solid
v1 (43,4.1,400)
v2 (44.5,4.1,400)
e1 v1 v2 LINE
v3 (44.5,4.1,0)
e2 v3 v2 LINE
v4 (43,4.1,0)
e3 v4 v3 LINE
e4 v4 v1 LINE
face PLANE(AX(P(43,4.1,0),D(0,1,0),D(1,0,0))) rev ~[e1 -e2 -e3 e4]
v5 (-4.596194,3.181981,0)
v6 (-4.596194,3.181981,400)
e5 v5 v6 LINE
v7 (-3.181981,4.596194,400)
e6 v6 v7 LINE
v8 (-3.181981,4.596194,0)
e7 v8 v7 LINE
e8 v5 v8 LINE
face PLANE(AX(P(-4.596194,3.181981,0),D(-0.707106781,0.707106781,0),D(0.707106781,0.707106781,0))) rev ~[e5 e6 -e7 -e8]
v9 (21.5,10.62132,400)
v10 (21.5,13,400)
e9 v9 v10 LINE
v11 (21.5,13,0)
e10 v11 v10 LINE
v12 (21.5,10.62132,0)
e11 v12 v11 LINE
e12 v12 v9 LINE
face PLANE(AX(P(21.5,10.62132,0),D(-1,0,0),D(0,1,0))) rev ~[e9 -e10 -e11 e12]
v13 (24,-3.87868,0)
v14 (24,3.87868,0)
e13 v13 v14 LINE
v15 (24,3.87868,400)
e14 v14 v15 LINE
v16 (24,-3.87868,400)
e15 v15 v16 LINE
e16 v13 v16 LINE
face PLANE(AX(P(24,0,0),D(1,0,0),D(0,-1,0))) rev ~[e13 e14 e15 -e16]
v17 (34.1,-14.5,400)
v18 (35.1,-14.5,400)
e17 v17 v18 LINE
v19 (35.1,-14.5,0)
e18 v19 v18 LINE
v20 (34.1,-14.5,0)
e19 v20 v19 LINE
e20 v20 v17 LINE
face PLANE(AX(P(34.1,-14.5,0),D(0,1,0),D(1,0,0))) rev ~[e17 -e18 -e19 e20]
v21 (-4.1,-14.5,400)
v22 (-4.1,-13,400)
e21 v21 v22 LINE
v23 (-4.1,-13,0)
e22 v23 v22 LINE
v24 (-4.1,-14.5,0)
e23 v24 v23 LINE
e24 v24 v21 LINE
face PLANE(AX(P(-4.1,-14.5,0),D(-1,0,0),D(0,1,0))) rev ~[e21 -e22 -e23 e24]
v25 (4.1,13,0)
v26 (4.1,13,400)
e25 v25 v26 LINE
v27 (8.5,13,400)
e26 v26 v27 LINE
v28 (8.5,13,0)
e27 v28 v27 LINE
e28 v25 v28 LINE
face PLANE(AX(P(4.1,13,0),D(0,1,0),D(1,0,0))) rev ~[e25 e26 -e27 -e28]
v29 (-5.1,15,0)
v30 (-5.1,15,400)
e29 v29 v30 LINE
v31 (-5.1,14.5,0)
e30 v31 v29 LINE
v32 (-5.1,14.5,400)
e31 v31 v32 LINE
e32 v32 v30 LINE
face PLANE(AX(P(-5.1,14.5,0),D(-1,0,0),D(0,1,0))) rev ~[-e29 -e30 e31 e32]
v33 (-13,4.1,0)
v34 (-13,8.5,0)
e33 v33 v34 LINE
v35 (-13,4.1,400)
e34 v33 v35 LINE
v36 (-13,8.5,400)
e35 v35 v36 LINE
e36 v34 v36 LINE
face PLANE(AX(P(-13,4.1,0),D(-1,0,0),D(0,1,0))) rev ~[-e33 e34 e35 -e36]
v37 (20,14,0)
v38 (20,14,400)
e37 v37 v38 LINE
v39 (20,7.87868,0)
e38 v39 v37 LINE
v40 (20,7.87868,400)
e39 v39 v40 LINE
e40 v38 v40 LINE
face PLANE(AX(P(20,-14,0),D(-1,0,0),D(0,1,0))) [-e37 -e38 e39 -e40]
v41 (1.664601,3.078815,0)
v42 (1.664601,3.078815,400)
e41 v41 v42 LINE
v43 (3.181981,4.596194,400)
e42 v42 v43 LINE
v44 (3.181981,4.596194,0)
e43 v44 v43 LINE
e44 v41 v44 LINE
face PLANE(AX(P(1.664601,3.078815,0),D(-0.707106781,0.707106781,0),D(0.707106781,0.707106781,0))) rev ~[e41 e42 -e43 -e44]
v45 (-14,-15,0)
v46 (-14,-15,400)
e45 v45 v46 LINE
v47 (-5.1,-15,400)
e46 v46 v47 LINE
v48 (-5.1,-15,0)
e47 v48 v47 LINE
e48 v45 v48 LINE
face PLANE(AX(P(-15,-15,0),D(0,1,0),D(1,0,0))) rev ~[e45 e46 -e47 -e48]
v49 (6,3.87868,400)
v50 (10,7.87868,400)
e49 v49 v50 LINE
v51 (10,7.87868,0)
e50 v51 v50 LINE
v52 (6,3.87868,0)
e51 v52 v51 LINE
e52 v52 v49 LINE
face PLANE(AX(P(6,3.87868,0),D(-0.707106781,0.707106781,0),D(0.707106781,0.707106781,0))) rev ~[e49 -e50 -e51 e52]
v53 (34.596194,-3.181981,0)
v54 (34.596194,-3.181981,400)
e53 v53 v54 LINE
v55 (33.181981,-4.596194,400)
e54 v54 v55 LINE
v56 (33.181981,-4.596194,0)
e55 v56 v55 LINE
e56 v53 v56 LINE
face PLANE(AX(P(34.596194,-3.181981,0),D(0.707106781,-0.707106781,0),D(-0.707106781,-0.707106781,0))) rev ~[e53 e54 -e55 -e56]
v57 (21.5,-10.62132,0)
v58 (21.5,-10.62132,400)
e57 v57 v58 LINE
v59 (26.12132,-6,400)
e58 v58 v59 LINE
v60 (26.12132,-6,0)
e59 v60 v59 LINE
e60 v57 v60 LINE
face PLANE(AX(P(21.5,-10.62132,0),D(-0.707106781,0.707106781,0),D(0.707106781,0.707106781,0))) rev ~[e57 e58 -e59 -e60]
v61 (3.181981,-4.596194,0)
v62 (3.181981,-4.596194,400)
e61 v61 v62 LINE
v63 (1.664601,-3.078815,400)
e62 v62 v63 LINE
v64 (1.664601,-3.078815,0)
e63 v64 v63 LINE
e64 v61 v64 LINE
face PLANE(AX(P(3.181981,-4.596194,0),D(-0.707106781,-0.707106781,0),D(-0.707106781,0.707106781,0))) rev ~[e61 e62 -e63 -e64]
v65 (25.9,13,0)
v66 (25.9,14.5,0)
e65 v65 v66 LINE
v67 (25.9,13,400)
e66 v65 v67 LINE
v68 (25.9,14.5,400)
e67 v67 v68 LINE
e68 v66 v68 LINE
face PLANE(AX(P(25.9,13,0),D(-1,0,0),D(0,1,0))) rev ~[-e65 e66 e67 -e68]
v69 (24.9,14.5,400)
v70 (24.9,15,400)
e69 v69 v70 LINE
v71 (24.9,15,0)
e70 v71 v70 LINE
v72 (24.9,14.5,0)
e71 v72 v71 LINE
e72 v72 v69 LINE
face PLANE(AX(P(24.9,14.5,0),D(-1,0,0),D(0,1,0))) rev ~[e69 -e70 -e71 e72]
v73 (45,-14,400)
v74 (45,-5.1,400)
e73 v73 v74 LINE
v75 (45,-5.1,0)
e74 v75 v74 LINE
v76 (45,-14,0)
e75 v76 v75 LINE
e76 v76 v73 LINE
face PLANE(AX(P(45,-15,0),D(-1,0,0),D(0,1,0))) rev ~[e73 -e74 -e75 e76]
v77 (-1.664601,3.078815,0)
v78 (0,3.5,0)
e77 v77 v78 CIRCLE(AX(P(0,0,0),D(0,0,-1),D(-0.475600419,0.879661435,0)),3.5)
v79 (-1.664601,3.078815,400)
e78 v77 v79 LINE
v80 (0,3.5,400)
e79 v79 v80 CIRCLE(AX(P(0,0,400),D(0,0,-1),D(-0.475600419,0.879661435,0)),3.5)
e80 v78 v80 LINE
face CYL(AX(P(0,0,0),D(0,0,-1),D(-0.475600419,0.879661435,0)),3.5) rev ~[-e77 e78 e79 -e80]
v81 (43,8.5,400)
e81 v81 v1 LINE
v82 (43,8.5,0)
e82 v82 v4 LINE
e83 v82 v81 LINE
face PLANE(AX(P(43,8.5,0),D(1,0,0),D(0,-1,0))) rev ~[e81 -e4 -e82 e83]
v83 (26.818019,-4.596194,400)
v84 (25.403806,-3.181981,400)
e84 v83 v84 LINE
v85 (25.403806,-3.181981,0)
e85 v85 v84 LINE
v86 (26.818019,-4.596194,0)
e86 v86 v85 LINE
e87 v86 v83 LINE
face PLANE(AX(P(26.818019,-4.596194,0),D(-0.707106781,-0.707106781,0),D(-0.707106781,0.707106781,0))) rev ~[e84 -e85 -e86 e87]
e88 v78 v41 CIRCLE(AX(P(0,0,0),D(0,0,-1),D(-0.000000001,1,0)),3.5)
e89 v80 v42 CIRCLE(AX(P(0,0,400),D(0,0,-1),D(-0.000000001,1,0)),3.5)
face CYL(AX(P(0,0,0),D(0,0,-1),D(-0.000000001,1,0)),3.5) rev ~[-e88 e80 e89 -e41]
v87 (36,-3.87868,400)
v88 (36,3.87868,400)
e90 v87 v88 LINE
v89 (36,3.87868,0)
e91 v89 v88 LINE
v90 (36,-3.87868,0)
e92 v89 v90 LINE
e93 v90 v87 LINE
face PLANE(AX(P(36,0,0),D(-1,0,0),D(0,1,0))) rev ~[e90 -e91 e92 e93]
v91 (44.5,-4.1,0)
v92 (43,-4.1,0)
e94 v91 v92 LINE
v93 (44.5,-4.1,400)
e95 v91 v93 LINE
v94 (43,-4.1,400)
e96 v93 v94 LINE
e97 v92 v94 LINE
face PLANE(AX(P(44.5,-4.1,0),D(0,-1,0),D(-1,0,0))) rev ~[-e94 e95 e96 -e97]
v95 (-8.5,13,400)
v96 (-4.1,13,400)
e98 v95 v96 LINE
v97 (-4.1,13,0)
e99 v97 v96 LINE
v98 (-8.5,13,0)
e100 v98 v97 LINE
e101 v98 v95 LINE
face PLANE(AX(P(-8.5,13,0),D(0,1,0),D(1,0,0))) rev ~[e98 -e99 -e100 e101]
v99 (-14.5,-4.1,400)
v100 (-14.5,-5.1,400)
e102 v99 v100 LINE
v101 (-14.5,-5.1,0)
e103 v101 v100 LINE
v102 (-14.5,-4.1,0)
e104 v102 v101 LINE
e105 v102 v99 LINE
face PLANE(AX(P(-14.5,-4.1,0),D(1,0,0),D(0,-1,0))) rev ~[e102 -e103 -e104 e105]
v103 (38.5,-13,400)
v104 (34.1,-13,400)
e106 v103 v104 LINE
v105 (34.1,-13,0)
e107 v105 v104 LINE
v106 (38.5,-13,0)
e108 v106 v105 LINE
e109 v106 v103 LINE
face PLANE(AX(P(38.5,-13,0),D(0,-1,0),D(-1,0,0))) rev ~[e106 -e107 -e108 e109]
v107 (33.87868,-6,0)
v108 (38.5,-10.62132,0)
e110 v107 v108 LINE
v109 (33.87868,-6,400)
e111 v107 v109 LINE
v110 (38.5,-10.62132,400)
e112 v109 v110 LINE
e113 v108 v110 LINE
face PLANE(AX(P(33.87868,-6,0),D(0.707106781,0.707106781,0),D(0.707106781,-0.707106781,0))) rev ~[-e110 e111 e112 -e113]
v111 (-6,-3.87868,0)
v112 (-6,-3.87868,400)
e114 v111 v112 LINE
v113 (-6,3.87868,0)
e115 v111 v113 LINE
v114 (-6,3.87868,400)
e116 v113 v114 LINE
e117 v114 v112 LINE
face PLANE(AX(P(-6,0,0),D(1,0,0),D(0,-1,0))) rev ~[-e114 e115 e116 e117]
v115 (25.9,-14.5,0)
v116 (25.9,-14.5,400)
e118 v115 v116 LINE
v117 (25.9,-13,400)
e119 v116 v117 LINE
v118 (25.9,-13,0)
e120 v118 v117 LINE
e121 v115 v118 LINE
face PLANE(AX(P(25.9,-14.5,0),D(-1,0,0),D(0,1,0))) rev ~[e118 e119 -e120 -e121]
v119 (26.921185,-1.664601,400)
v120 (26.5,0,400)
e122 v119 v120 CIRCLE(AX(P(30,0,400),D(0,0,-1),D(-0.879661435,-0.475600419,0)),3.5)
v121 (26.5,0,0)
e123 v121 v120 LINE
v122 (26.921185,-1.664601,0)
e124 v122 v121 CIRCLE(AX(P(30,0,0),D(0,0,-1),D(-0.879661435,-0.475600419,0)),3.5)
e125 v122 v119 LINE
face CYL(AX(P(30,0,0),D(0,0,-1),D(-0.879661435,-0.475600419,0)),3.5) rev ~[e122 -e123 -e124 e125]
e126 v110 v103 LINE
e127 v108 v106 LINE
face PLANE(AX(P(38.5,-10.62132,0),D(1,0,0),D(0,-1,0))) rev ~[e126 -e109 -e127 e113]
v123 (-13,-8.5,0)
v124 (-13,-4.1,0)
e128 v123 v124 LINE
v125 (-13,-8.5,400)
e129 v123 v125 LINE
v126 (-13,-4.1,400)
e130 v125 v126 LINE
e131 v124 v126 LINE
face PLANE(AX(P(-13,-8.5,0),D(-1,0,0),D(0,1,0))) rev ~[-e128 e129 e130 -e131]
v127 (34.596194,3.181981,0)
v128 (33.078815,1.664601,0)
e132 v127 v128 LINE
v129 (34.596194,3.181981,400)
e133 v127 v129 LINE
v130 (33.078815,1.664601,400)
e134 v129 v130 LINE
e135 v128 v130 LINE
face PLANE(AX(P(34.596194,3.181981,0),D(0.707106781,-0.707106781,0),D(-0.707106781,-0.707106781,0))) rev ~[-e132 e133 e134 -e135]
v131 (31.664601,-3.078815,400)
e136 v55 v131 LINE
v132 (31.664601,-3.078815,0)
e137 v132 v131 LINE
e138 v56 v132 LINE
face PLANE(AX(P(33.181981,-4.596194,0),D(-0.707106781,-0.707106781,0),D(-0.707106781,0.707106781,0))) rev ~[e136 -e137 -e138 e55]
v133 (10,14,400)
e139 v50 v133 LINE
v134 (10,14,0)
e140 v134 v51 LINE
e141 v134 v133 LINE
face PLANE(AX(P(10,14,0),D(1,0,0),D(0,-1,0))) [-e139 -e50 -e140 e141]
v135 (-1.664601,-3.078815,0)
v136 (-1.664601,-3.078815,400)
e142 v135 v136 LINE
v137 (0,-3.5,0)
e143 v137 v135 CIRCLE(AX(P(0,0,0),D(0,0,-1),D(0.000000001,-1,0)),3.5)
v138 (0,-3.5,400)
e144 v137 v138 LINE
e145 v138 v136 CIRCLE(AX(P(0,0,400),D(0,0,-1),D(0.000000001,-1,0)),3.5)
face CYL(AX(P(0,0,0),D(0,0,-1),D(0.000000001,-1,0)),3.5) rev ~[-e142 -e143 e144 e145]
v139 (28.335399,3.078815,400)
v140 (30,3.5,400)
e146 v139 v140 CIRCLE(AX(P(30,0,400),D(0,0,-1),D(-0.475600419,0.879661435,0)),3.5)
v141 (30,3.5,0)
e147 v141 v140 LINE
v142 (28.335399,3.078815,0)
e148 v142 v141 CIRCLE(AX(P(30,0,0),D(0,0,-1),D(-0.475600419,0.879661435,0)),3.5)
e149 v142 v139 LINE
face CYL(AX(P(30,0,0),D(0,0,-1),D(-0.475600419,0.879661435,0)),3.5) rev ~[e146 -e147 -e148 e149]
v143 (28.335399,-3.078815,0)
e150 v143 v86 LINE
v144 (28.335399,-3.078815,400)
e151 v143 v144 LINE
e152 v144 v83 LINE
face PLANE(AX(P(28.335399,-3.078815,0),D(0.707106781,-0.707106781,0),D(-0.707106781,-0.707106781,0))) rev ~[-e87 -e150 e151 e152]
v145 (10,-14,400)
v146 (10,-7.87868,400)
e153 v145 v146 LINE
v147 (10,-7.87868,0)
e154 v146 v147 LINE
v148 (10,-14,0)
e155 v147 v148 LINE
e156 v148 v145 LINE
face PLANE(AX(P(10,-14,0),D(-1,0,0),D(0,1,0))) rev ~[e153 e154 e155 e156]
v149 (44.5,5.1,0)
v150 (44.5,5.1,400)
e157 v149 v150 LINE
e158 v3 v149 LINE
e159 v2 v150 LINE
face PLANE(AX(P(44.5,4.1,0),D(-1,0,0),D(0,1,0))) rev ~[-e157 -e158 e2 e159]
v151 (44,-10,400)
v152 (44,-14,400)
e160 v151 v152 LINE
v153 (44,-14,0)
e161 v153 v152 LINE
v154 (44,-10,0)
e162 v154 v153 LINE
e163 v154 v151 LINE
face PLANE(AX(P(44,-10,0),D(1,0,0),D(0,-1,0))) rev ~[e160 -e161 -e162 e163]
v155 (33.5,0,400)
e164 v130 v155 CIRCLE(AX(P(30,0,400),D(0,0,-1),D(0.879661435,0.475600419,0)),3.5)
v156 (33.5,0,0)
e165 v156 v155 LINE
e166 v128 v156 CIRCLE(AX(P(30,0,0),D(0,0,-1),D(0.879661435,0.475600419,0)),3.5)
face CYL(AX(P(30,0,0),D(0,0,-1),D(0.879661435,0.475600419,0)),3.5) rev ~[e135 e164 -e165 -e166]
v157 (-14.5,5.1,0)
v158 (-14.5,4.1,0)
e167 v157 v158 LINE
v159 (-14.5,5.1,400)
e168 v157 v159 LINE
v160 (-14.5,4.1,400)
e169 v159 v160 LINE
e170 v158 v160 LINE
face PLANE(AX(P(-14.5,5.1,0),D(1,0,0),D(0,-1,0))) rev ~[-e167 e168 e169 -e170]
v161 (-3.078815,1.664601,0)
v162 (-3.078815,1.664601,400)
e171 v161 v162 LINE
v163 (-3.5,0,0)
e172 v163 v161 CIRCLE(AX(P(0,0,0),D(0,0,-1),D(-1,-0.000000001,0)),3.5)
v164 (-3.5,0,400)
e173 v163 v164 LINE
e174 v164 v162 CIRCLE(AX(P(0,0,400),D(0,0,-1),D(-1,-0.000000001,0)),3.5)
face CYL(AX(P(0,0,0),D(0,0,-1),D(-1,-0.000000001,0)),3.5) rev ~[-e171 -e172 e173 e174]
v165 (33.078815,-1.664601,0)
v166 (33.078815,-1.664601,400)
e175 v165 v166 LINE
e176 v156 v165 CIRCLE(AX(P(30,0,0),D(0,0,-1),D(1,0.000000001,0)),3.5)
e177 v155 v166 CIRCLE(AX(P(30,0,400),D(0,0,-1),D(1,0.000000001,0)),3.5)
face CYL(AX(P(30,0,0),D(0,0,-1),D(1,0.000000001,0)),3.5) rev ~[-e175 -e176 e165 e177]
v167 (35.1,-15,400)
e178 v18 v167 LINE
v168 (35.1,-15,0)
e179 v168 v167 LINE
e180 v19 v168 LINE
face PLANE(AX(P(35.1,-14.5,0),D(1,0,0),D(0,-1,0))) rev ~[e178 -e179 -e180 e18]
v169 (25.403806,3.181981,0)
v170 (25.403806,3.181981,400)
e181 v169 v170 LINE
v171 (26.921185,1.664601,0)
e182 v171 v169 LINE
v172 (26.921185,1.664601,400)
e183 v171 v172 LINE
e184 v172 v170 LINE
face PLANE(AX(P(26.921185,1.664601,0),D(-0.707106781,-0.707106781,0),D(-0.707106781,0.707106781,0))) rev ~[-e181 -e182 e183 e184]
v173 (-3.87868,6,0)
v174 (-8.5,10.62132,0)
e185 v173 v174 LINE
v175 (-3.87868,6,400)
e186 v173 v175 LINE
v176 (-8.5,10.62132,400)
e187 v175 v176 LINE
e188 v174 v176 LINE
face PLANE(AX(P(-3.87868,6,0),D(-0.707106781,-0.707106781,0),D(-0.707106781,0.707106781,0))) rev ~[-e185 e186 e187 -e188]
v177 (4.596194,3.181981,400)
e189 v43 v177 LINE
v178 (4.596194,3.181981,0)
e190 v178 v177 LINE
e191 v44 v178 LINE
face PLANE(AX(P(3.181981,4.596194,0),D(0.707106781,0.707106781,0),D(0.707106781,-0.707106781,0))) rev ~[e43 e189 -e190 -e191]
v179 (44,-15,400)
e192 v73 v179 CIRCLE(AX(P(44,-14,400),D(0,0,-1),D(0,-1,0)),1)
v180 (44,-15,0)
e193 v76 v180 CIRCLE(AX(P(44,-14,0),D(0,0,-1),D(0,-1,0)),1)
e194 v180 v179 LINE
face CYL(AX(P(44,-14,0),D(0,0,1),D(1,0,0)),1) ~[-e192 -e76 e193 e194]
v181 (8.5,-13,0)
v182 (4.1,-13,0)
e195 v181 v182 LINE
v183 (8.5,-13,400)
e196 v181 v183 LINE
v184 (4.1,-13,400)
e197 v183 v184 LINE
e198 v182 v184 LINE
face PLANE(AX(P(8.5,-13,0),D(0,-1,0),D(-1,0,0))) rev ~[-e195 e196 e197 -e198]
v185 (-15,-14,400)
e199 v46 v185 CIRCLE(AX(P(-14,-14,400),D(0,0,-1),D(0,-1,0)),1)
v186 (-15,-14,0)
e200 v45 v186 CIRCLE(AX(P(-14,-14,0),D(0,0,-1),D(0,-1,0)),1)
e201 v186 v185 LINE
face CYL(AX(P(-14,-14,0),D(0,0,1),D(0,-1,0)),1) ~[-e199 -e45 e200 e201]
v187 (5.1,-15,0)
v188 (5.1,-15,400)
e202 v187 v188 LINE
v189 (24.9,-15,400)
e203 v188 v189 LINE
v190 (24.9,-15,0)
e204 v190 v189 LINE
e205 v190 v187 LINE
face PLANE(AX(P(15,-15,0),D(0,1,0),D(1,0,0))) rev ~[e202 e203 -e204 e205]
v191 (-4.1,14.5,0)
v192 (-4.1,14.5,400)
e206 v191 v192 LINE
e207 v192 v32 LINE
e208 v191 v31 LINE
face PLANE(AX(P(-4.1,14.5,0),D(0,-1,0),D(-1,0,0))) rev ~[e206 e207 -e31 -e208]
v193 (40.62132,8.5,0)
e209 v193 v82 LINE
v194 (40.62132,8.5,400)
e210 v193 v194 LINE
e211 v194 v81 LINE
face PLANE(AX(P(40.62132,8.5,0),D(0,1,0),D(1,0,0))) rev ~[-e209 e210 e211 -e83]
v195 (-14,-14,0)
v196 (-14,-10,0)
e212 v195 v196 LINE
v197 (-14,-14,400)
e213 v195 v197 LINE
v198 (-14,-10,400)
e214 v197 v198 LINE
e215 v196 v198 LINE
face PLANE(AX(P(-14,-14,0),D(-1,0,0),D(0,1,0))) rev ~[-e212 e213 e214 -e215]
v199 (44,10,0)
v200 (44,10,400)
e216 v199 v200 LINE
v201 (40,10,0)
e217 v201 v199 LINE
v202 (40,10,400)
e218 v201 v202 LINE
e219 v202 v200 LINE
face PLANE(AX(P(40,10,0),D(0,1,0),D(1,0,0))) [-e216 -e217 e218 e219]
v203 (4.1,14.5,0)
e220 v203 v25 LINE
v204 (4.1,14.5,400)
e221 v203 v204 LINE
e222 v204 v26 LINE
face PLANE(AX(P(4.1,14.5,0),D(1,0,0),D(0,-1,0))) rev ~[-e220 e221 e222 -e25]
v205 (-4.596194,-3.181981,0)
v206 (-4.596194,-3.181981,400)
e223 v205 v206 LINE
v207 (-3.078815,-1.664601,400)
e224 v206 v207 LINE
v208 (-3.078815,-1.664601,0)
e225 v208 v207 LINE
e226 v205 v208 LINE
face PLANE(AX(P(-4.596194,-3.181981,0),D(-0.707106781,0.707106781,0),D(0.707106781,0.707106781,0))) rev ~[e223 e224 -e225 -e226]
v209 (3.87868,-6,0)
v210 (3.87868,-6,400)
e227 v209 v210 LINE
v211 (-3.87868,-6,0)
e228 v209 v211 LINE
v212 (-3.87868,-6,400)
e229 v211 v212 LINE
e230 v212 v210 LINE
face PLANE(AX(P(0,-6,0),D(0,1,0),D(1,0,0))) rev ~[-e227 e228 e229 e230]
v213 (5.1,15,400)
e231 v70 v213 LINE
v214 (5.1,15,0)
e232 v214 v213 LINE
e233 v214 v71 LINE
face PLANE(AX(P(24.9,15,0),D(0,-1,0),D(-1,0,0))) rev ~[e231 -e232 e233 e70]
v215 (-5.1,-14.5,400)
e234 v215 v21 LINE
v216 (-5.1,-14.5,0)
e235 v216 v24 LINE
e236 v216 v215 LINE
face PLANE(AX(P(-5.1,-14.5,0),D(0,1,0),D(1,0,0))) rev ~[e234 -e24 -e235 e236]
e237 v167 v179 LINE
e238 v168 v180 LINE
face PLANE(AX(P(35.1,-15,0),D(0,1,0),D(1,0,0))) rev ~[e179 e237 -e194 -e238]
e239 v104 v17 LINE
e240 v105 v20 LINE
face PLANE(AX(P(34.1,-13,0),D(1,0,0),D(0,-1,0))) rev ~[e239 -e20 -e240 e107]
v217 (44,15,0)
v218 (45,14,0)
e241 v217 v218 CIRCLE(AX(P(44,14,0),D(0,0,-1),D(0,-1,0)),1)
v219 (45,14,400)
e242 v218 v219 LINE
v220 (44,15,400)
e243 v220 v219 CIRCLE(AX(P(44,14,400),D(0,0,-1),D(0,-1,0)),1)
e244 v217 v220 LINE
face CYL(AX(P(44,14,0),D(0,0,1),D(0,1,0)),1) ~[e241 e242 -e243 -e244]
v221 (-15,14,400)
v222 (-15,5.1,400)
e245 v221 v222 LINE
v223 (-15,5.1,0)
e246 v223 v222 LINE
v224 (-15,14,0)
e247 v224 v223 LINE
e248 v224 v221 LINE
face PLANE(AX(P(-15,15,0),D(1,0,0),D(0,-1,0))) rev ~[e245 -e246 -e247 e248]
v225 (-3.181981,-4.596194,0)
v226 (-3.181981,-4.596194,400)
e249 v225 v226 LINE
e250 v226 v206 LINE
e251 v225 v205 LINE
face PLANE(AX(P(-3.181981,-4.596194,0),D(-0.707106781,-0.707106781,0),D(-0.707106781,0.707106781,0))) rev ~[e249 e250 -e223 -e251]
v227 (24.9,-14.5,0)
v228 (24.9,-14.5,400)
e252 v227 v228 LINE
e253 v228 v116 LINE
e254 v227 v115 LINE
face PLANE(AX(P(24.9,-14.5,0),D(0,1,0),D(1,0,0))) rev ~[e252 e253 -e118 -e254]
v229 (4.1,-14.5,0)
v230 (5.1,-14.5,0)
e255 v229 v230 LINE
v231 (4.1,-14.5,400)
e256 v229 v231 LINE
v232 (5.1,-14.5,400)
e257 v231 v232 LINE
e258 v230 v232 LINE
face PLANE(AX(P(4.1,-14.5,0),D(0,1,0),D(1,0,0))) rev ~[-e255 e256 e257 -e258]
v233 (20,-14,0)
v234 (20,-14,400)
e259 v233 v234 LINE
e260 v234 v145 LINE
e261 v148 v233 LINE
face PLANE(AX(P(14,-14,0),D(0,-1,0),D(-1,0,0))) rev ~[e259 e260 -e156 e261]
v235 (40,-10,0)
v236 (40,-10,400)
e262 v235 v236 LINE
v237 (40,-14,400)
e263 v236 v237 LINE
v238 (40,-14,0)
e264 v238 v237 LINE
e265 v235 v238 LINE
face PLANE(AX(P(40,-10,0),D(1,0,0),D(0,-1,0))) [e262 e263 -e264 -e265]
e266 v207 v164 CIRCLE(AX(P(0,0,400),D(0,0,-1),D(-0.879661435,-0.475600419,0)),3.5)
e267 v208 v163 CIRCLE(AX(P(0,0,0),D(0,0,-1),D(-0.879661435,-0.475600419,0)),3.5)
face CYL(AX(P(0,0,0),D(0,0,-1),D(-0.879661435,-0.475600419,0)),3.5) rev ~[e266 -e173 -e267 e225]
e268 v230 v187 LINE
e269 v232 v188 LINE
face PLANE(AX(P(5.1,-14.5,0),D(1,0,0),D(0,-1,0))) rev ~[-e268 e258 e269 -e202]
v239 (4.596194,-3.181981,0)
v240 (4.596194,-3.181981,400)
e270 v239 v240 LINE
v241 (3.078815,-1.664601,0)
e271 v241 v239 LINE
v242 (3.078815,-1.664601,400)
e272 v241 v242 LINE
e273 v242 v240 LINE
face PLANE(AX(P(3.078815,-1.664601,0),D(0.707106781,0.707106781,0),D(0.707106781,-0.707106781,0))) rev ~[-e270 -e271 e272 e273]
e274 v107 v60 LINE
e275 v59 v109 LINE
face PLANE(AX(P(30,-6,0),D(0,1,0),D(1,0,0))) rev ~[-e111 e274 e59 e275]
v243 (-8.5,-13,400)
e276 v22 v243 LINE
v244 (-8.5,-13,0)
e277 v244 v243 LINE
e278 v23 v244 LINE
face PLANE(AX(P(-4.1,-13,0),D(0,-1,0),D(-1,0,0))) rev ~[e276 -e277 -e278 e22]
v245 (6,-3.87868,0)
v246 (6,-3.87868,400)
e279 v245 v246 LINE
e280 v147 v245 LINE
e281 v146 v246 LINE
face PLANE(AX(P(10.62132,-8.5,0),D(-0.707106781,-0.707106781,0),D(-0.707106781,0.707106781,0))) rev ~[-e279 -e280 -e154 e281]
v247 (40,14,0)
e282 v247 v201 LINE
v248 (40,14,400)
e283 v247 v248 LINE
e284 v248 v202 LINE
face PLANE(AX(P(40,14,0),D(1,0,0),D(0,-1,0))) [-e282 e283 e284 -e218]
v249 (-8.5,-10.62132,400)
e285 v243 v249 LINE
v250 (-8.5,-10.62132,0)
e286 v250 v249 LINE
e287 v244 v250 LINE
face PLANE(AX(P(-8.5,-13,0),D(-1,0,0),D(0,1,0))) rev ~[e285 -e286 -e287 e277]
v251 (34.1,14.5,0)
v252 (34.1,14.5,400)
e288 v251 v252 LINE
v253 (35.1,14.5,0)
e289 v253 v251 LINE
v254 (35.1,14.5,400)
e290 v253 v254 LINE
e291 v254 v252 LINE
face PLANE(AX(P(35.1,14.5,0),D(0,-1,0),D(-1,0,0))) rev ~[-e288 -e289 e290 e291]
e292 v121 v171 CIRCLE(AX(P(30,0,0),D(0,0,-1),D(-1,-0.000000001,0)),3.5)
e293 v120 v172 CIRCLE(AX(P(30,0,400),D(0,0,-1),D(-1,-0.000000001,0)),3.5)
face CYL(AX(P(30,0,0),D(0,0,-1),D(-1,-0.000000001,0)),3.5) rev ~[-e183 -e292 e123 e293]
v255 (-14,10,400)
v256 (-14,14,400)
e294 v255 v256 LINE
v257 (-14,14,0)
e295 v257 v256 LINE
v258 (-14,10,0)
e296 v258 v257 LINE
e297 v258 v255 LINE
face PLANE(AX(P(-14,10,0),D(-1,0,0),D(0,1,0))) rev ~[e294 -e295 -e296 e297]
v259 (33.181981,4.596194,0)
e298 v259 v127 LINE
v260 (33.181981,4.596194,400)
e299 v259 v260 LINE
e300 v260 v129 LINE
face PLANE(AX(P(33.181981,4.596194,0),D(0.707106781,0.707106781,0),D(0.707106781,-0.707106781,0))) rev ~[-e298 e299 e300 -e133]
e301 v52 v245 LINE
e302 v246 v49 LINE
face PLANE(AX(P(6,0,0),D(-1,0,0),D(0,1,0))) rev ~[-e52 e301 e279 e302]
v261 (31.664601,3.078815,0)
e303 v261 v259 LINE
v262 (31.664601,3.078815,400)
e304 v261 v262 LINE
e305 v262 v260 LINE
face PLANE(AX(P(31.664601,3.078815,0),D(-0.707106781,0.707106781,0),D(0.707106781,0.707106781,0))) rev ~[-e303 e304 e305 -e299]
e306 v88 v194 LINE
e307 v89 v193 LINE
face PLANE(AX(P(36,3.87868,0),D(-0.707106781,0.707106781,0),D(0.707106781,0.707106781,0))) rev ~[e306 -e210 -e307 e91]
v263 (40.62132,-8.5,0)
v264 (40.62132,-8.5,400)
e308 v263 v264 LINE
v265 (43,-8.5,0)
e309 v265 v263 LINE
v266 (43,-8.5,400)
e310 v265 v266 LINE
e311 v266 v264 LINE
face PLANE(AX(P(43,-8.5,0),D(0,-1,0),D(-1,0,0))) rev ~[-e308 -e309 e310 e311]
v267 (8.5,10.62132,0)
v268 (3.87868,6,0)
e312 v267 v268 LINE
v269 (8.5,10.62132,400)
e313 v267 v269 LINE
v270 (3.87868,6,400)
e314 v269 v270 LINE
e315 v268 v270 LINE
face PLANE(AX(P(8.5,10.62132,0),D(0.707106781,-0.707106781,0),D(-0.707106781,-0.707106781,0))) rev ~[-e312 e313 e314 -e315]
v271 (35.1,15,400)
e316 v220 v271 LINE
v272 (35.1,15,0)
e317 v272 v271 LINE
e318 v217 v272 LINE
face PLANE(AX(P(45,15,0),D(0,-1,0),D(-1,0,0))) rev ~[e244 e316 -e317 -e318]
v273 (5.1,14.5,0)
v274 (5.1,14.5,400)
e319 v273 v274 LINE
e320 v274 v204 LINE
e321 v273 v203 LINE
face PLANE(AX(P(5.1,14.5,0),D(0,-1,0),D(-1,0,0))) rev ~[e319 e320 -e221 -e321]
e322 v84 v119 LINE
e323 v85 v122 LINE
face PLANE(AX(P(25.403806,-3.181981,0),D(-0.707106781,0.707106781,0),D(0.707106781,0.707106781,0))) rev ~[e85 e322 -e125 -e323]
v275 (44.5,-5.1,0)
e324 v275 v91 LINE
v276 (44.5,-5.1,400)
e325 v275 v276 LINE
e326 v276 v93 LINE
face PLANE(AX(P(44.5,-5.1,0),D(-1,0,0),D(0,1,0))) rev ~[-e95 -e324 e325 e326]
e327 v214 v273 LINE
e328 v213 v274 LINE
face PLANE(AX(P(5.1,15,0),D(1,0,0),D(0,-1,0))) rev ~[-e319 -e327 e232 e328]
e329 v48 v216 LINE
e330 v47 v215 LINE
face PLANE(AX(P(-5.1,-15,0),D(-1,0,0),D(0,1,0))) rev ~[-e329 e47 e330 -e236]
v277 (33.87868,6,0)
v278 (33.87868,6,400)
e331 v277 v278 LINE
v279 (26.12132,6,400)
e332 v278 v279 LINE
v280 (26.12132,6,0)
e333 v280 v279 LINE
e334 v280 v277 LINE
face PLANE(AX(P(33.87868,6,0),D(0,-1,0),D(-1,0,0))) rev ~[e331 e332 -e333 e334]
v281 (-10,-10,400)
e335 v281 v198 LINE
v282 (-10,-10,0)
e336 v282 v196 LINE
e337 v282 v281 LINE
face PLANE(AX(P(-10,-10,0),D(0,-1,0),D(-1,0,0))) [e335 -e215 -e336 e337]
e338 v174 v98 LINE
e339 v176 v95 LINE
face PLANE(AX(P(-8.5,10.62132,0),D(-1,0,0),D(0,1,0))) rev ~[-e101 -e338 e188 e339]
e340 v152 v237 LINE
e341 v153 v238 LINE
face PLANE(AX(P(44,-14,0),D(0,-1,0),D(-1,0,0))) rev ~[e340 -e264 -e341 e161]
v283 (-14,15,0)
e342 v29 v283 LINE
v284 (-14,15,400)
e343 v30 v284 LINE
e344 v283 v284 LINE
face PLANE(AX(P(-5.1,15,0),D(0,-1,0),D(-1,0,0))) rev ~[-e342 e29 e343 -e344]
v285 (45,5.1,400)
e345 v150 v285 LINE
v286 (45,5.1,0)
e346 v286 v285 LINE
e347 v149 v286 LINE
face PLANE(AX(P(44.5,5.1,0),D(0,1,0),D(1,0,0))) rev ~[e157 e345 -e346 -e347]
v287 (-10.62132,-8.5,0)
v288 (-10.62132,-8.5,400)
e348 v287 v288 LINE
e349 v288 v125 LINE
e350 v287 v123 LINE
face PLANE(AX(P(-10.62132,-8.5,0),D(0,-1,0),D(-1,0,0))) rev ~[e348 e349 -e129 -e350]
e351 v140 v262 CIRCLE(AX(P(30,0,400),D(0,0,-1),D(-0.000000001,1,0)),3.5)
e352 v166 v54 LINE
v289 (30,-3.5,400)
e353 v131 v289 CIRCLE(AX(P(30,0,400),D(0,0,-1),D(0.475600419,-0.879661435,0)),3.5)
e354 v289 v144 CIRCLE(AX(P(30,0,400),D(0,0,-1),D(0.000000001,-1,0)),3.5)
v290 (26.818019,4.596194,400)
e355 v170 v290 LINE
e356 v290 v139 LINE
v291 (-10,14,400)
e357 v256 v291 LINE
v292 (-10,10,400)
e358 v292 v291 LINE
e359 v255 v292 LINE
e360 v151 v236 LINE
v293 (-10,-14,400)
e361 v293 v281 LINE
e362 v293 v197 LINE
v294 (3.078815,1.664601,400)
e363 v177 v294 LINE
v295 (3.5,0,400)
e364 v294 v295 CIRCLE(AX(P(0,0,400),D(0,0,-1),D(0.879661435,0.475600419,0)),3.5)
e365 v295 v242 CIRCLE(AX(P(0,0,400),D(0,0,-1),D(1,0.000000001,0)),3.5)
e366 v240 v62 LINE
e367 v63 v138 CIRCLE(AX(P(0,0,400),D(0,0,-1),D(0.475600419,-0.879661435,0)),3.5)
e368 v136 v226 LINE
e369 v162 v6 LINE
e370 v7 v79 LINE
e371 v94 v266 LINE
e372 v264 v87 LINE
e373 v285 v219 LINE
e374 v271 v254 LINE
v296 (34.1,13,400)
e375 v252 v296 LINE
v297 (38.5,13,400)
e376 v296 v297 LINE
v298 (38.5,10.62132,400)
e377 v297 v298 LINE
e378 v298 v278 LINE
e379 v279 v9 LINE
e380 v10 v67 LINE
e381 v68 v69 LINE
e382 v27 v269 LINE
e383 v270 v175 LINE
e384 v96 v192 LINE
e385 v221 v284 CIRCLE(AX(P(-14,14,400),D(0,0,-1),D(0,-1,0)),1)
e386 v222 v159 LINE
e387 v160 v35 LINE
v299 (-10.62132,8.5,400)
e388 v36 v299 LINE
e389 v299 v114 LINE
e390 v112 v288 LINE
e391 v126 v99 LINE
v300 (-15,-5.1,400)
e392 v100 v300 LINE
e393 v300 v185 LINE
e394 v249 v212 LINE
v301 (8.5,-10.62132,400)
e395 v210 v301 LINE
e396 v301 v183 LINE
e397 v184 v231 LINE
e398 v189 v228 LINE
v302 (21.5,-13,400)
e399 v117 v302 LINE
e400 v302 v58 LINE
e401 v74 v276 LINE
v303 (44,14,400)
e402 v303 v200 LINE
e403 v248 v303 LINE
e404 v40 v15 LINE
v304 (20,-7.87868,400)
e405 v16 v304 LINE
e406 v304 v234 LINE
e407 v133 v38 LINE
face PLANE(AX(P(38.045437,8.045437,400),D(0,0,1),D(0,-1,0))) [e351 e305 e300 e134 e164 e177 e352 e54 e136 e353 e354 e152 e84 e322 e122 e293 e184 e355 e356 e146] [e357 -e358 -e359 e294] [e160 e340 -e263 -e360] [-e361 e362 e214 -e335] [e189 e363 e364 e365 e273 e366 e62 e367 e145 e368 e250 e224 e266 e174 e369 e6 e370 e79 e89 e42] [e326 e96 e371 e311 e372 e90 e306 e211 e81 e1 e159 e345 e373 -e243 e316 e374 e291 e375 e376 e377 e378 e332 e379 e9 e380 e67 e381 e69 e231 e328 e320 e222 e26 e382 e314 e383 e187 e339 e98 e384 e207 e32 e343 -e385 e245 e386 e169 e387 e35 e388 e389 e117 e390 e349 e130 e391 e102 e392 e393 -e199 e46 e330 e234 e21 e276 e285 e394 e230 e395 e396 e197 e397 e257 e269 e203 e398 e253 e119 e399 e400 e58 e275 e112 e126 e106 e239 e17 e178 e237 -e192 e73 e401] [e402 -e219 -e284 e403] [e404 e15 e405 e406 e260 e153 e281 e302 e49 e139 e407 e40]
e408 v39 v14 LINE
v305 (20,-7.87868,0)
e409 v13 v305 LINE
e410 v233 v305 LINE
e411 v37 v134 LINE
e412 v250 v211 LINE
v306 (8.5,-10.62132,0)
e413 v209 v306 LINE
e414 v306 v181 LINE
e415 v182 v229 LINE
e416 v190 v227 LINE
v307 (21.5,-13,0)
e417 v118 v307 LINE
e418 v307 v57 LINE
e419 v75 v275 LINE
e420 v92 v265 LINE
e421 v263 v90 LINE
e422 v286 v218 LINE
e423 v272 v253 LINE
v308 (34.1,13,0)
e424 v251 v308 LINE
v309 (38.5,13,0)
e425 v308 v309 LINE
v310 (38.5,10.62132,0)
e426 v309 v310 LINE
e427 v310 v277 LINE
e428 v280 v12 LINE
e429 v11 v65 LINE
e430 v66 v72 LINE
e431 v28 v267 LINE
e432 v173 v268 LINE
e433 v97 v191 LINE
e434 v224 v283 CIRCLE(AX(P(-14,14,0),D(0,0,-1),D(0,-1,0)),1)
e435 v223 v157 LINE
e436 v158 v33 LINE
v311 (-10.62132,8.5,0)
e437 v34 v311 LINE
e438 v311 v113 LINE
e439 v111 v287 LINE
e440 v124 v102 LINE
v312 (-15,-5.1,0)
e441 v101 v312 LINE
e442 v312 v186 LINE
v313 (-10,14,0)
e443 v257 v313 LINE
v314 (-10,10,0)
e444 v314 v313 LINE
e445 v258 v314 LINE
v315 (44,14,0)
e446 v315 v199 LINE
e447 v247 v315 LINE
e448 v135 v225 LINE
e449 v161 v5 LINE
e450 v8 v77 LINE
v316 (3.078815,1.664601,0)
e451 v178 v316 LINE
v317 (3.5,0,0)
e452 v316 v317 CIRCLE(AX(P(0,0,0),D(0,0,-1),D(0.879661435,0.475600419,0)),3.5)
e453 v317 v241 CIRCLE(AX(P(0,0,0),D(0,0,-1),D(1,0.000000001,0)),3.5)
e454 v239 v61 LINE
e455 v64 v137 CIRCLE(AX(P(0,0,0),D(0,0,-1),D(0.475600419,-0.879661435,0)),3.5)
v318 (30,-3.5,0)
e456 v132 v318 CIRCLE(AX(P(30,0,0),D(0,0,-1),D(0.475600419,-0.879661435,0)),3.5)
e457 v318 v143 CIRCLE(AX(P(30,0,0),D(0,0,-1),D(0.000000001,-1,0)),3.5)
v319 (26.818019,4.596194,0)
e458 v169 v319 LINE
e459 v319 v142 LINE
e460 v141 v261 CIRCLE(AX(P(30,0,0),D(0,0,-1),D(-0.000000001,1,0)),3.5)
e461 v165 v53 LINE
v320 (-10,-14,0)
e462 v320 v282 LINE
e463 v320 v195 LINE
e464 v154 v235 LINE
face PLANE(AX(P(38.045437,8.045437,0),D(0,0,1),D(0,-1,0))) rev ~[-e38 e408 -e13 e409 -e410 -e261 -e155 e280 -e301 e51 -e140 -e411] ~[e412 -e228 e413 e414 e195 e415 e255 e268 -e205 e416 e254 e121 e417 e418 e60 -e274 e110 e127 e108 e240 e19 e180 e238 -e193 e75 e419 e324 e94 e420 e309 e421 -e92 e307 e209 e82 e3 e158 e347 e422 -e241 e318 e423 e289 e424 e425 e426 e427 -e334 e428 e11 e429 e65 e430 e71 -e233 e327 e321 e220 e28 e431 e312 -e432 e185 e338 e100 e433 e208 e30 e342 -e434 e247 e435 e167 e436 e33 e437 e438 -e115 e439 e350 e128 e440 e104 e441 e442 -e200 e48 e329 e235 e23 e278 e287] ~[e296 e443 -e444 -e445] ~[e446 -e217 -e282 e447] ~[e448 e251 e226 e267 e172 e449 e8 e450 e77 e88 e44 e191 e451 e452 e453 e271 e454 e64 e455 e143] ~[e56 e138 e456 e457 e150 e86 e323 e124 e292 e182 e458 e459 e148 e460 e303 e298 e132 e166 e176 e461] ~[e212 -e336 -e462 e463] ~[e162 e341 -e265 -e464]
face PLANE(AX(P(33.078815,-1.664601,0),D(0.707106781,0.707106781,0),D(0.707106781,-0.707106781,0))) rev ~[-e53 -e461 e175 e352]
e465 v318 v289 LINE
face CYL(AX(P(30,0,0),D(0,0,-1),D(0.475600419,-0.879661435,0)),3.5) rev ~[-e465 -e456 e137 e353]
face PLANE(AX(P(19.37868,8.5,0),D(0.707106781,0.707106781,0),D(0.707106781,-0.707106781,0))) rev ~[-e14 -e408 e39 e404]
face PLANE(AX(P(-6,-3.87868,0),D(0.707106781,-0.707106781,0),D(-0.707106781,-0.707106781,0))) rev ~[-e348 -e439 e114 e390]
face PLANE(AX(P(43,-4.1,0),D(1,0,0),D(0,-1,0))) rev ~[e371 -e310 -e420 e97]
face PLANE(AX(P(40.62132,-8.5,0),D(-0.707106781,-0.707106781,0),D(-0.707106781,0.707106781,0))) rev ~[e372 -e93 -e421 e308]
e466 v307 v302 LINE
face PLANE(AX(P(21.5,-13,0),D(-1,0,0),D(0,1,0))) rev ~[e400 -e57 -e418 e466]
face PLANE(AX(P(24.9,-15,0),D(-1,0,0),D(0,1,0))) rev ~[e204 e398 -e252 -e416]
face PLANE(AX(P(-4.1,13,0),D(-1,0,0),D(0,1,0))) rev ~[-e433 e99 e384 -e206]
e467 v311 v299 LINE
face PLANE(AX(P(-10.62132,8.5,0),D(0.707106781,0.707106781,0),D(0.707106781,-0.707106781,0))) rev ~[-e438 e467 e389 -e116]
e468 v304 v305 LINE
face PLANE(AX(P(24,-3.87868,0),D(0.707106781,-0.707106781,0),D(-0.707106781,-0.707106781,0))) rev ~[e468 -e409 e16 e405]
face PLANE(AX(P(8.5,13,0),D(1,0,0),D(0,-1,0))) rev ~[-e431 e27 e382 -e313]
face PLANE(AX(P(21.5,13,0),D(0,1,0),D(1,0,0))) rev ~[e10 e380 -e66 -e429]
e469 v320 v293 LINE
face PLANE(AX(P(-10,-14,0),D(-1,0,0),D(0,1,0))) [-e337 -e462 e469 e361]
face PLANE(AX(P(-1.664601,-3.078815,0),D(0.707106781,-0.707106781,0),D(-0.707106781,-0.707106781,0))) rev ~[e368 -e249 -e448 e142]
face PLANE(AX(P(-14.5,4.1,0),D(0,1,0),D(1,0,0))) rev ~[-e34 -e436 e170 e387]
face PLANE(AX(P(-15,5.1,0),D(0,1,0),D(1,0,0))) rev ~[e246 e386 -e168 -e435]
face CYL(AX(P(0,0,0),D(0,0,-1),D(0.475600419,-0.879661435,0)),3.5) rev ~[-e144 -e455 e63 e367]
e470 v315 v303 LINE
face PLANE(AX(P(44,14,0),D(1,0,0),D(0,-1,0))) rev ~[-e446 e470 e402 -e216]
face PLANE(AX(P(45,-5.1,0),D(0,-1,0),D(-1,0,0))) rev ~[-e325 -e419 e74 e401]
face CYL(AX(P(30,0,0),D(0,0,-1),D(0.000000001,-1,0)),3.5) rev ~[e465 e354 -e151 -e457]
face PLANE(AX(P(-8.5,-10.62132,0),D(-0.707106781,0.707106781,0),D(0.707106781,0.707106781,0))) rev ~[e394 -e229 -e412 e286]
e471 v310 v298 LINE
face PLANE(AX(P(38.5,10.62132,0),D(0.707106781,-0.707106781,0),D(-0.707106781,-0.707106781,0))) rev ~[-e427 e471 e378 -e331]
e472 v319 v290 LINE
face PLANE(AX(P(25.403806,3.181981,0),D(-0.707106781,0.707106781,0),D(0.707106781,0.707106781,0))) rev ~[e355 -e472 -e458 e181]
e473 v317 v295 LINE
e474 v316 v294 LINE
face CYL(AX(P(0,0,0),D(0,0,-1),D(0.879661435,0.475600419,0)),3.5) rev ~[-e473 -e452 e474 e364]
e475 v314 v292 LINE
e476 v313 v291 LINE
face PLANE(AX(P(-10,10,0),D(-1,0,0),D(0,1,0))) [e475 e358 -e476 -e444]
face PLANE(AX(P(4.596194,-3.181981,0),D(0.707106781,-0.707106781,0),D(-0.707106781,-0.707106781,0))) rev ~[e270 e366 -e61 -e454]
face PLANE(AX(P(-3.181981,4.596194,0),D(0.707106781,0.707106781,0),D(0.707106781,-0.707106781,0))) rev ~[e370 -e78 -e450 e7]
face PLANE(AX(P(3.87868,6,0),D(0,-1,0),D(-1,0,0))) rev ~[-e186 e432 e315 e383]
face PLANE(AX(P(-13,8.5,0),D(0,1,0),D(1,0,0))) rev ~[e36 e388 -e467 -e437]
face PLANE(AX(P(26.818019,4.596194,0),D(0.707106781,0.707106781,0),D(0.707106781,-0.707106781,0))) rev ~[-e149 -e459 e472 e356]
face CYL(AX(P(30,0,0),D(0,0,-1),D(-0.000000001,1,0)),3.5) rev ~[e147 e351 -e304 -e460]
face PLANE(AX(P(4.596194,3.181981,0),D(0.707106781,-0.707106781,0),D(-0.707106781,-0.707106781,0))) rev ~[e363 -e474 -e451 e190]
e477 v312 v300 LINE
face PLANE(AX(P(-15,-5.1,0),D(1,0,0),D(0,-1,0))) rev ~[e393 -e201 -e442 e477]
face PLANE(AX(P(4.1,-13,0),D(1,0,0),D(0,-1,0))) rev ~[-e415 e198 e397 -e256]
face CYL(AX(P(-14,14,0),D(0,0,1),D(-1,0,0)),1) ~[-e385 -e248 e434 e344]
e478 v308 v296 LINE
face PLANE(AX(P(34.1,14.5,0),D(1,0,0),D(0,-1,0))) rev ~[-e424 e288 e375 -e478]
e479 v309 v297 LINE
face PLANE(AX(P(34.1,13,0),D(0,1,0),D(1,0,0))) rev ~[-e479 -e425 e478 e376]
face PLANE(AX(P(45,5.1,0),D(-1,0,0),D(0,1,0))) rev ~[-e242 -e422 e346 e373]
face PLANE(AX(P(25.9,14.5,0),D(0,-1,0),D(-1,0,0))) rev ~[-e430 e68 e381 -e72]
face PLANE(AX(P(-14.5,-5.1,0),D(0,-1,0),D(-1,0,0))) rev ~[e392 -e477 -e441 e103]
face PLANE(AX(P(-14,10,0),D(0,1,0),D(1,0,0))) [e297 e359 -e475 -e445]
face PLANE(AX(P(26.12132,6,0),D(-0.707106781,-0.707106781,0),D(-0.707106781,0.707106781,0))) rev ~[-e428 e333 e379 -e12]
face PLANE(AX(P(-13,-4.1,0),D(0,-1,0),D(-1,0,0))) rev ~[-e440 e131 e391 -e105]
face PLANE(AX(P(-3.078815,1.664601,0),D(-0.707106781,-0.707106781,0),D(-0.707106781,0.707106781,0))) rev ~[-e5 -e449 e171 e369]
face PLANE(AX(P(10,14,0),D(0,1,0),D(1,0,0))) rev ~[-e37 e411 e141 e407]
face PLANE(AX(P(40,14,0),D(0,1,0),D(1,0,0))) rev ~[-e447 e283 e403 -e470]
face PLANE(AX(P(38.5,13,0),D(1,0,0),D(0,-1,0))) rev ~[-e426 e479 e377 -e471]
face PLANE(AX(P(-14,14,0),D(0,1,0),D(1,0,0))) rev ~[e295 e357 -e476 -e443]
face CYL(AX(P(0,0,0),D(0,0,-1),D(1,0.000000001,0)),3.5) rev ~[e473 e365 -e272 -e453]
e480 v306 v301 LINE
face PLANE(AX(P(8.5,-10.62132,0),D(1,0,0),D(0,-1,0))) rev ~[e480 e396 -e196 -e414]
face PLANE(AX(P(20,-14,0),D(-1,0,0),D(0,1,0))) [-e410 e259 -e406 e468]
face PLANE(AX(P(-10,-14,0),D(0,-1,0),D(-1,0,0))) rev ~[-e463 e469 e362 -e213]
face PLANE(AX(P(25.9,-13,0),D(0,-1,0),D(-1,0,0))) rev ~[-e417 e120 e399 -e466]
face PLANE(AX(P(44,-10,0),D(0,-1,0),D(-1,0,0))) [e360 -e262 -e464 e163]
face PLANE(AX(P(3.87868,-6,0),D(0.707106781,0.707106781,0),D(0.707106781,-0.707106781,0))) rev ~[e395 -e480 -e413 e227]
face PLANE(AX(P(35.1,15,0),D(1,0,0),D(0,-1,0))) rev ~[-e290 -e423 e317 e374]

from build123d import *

# Parameters (mm, degrees)
ESBO_O1_W                      = 4
ESBO_O1_H                      = 4
RESSALTO_EXTRUS_O1_DEPTH       = 400
PADR_OCIRCULAR1_COUNT          = 4
PADR_O_LINEAR1_COUNT           = 2
PADR_O_LINEAR1_PITCH           = 30
PADR_O_LINEAR1_COPY_1_SKETCH_W = 4
PADR_O_LINEAR1_COPY_1_SKETCH_H = 4
PADR_O_LINEAR1_COPY_1_DEPTH    = 400
PADR_O_LINEAR1_COPY_2_SKETCH_W = 4
PADR_O_LINEAR1_COPY_2_SKETCH_H = 4
PADR_O_LINEAR1_COPY_2_DEPTH    = 400
PADR_O_LINEAR1_COPY_3_SKETCH_W = 4
PADR_O_LINEAR1_COPY_3_SKETCH_H = 4
PADR_O_LINEAR1_COPY_3_DEPTH    = 400
ESBO_O4_W                      = 10
ESBO_O4_H                      = 28
CORTE_EXTRUS_O1_DEPTH          = 403.802681222
FILETE1_R                      = 1


with BuildPart() as part:
    # Esboço1 → Ressalto-extrusão1 (new body)
    with BuildSketch(Plane.XY):
        with BuildLine():
            ThreePointArc((-1.664601464, 3.078815026), (-0.858529967, 3.393070335), (0, 3.5))
            Line((0, 3.5), (0, 6))
            Line((0, 6), (-3.878679656, 6))
            Line((-3.878679656, 6), (-8.5, 10.621320344))
            Line((-8.5, 10.621320344), (-8.5, 13))
            Line((-8.5, 13), (-4.1, 13))
            Line((-4.1, 13), (-4.1, 14.5))
            Line((-4.1, 14.5), (-5.1, 14.5))
            Line((-5.1, 14.5), (-5.1, 15))
            Line((-5.1, 15), (-15, 15))
            Line((-15, 15), (-15, 5.1))
            Line((-15, 5.1), (-14.5, 5.1))
            Line((-14.5, 5.1), (-14.5, 4.1))
            Line((-14.5, 4.1), (-13, 4.1))
            Line((-13, 4.1), (-13, 8.5))
            Line((-13, 8.5), (-10.621320344, 8.5))
            Line((-10.621320344, 8.5), (-6, 3.878679656))
            Line((-6, 3.878679656), (-6, 0))
            Line((-6, 0), (-3.5, 0))
            ThreePointArc((-3.5, 0), (-3.393070335, 0.858529967), (-3.078815026, 1.664601464))
            Line((-3.078815026, 1.664601464), (-4.596194078, 3.181980515))
            Line((-4.596194078, 3.181980515), (-3.181980515, 4.596194078))
            Line((-3.181980515, 4.596194078), (-1.664601464, 3.078815026))
        make_face()
        with Locations((-12, 12)):
            Rectangle(ESBO_O1_W, ESBO_O1_H, mode=Mode.SUBTRACT)
    ressalto_extrus_o1 = extrude(amount=RESSALTO_EXTRUS_O1_DEPTH)

    # PadrãoCircular1: Ressalto-extrusão1 ×4 about axis
    padr_ocircular1_axis = Axis((0, 0, 0), (0, 0, 1))
    for i in range(1, PADR_OCIRCULAR1_COUNT):
        add(ressalto_extrus_o1.rotate(padr_ocircular1_axis, i * 360 / PADR_OCIRCULAR1_COUNT))

    # Padrão linear1: Ressalto-extrusão1 ×2
    with Locations(*[(i * PADR_O_LINEAR1_PITCH, 0, 0) for i in range(1, PADR_O_LINEAR1_COUNT)]):
        add(ressalto_extrus_o1)

    # Padrão linear1 copy 1 sketch → Padrão linear1 copy 1 (add)
    with BuildSketch(Plane(origin=(30, 0, 0), x_dir=(0, 1, 0), z_dir=(0, 0, 1))):
        with BuildLine():
            ThreePointArc((-1.664601464, 3.078815026), (-0.858529967, 3.393070335), (0, 3.5))
            Line((0, 3.5), (0, 6))
            Line((0, 6), (-3.878679656, 6))
            Line((-3.878679656, 6), (-8.5, 10.621320344))
            Line((-8.5, 10.621320344), (-8.5, 13))
            Line((-8.5, 13), (-4.1, 13))
            Line((-4.1, 13), (-4.1, 14.5))
            Line((-4.1, 14.5), (-5.1, 14.5))
            Line((-5.1, 14.5), (-5.1, 15))
            Line((-5.1, 15), (-15, 15))
            Line((-15, 15), (-15, 5.1))
            Line((-15, 5.1), (-14.5, 5.1))
            Line((-14.5, 5.1), (-14.5, 4.1))
            Line((-14.5, 4.1), (-13, 4.1))
            Line((-13, 4.1), (-13, 8.5))
            Line((-13, 8.5), (-10.621320344, 8.5))
            Line((-10.621320344, 8.5), (-6, 3.878679656))
            Line((-6, 3.878679656), (-6, 0))
            Line((-6, 0), (-3.5, 0))
            ThreePointArc((-3.5, 0), (-3.393070335, 0.858529967), (-3.078815026, 1.664601464))
            Line((-3.078815026, 1.664601464), (-4.596194078, 3.181980515))
            Line((-4.596194078, 3.181980515), (-3.181980515, 4.596194078))
            Line((-3.181980515, 4.596194078), (-1.664601464, 3.078815026))
        make_face()
        with Locations((-12, 12)):
            Rectangle(PADR_O_LINEAR1_COPY_1_SKETCH_W, PADR_O_LINEAR1_COPY_1_SKETCH_H, mode=Mode.SUBTRACT)
    extrude(amount=PADR_O_LINEAR1_COPY_1_DEPTH)

    # Padrão linear1 copy 2 sketch → Padrão linear1 copy 2 (add)
    with BuildSketch(Plane(origin=(30, 0, 0), x_dir=(-1, 0, 0), z_dir=(0, 0, 1))):
        with BuildLine():
            ThreePointArc((-1.664601464, 3.078815026), (-0.858529967, 3.393070335), (0, 3.5))
            Line((0, 3.5), (0, 6))
            Line((0, 6), (-3.878679656, 6))
            Line((-3.878679656, 6), (-8.5, 10.621320344))
            Line((-8.5, 10.621320344), (-8.5, 13))
            Line((-8.5, 13), (-4.1, 13))
            Line((-4.1, 13), (-4.1, 14.5))
            Line((-4.1, 14.5), (-5.1, 14.5))
            Line((-5.1, 14.5), (-5.1, 15))
            Line((-5.1, 15), (-15, 15))
            Line((-15, 15), (-15, 5.1))
            Line((-15, 5.1), (-14.5, 5.1))
            Line((-14.5, 5.1), (-14.5, 4.1))
            Line((-14.5, 4.1), (-13, 4.1))
            Line((-13, 4.1), (-13, 8.5))
            Line((-13, 8.5), (-10.621320344, 8.5))
            Line((-10.621320344, 8.5), (-6, 3.878679656))
            Line((-6, 3.878679656), (-6, 0))
            Line((-6, 0), (-3.5, 0))
            ThreePointArc((-3.5, 0), (-3.393070335, 0.858529967), (-3.078815026, 1.664601464))
            Line((-3.078815026, 1.664601464), (-4.596194078, 3.181980515))
            Line((-4.596194078, 3.181980515), (-3.181980515, 4.596194078))
            Line((-3.181980515, 4.596194078), (-1.664601464, 3.078815026))
        make_face()
        with Locations((-12, 12)):
            Rectangle(PADR_O_LINEAR1_COPY_2_SKETCH_W, PADR_O_LINEAR1_COPY_2_SKETCH_H, mode=Mode.SUBTRACT)
    extrude(amount=PADR_O_LINEAR1_COPY_2_DEPTH)

    # Padrão linear1 copy 3 sketch → Padrão linear1 copy 3 (add)
    with BuildSketch(Plane(origin=(30, 0, 0), x_dir=(0, -1, 0), z_dir=(0, 0, 1))):
        with BuildLine():
            ThreePointArc((-1.664601464, 3.078815026), (-0.858529967, 3.393070335), (0, 3.5))
            Line((0, 3.5), (0, 6))
            Line((0, 6), (-3.878679656, 6))
            Line((-3.878679656, 6), (-8.5, 10.621320344))
            Line((-8.5, 10.621320344), (-8.5, 13))
            Line((-8.5, 13), (-4.1, 13))
            Line((-4.1, 13), (-4.1, 14.5))
            Line((-4.1, 14.5), (-5.1, 14.5))
            Line((-5.1, 14.5), (-5.1, 15))
            Line((-5.1, 15), (-15, 15))
            Line((-15, 15), (-15, 5.1))
            Line((-15, 5.1), (-14.5, 5.1))
            Line((-14.5, 5.1), (-14.5, 4.1))
            Line((-14.5, 4.1), (-13, 4.1))
            Line((-13, 4.1), (-13, 8.5))
            Line((-13, 8.5), (-10.621320344, 8.5))
            Line((-10.621320344, 8.5), (-6, 3.878679656))
            Line((-6, 3.878679656), (-6, 0))
            Line((-6, 0), (-3.5, 0))
            ThreePointArc((-3.5, 0), (-3.393070335, 0.858529967), (-3.078815026, 1.664601464))
            Line((-3.078815026, 1.664601464), (-4.596194078, 3.181980515))
            Line((-4.596194078, 3.181980515), (-3.181980515, 4.596194078))
            Line((-3.181980515, 4.596194078), (-1.664601464, 3.078815026))
        make_face()
        with Locations((-12, 12)):
            Rectangle(PADR_O_LINEAR1_COPY_3_SKETCH_W, PADR_O_LINEAR1_COPY_3_SKETCH_H, mode=Mode.SUBTRACT)
    extrude(amount=PADR_O_LINEAR1_COPY_3_DEPTH)

    # Esboço4 → Corte-extrusão1 (cut, through all)
    with BuildSketch(Plane(origin=(0, 0, 0), x_dir=(-1, 0, 0), z_dir=(0, 0, -1))):
        with Locations((-15, 0)):
            Rectangle(ESBO_O4_W, ESBO_O4_H)
    extrude(amount=-CORTE_EXTRUS_O1_DEPTH, mode=Mode.SUBTRACT)

    # Filete1
    filete1_edges = [part.edges().sort_by_distance(p)[0] for p in [
        (45, -15, 200),
        (45, 15, 200),
        (-15, 15, 200),
        (-15, -15, 200),
    ]]
    fillet(filete1_edges, radius=FILETE1_R)


solid = part.part
